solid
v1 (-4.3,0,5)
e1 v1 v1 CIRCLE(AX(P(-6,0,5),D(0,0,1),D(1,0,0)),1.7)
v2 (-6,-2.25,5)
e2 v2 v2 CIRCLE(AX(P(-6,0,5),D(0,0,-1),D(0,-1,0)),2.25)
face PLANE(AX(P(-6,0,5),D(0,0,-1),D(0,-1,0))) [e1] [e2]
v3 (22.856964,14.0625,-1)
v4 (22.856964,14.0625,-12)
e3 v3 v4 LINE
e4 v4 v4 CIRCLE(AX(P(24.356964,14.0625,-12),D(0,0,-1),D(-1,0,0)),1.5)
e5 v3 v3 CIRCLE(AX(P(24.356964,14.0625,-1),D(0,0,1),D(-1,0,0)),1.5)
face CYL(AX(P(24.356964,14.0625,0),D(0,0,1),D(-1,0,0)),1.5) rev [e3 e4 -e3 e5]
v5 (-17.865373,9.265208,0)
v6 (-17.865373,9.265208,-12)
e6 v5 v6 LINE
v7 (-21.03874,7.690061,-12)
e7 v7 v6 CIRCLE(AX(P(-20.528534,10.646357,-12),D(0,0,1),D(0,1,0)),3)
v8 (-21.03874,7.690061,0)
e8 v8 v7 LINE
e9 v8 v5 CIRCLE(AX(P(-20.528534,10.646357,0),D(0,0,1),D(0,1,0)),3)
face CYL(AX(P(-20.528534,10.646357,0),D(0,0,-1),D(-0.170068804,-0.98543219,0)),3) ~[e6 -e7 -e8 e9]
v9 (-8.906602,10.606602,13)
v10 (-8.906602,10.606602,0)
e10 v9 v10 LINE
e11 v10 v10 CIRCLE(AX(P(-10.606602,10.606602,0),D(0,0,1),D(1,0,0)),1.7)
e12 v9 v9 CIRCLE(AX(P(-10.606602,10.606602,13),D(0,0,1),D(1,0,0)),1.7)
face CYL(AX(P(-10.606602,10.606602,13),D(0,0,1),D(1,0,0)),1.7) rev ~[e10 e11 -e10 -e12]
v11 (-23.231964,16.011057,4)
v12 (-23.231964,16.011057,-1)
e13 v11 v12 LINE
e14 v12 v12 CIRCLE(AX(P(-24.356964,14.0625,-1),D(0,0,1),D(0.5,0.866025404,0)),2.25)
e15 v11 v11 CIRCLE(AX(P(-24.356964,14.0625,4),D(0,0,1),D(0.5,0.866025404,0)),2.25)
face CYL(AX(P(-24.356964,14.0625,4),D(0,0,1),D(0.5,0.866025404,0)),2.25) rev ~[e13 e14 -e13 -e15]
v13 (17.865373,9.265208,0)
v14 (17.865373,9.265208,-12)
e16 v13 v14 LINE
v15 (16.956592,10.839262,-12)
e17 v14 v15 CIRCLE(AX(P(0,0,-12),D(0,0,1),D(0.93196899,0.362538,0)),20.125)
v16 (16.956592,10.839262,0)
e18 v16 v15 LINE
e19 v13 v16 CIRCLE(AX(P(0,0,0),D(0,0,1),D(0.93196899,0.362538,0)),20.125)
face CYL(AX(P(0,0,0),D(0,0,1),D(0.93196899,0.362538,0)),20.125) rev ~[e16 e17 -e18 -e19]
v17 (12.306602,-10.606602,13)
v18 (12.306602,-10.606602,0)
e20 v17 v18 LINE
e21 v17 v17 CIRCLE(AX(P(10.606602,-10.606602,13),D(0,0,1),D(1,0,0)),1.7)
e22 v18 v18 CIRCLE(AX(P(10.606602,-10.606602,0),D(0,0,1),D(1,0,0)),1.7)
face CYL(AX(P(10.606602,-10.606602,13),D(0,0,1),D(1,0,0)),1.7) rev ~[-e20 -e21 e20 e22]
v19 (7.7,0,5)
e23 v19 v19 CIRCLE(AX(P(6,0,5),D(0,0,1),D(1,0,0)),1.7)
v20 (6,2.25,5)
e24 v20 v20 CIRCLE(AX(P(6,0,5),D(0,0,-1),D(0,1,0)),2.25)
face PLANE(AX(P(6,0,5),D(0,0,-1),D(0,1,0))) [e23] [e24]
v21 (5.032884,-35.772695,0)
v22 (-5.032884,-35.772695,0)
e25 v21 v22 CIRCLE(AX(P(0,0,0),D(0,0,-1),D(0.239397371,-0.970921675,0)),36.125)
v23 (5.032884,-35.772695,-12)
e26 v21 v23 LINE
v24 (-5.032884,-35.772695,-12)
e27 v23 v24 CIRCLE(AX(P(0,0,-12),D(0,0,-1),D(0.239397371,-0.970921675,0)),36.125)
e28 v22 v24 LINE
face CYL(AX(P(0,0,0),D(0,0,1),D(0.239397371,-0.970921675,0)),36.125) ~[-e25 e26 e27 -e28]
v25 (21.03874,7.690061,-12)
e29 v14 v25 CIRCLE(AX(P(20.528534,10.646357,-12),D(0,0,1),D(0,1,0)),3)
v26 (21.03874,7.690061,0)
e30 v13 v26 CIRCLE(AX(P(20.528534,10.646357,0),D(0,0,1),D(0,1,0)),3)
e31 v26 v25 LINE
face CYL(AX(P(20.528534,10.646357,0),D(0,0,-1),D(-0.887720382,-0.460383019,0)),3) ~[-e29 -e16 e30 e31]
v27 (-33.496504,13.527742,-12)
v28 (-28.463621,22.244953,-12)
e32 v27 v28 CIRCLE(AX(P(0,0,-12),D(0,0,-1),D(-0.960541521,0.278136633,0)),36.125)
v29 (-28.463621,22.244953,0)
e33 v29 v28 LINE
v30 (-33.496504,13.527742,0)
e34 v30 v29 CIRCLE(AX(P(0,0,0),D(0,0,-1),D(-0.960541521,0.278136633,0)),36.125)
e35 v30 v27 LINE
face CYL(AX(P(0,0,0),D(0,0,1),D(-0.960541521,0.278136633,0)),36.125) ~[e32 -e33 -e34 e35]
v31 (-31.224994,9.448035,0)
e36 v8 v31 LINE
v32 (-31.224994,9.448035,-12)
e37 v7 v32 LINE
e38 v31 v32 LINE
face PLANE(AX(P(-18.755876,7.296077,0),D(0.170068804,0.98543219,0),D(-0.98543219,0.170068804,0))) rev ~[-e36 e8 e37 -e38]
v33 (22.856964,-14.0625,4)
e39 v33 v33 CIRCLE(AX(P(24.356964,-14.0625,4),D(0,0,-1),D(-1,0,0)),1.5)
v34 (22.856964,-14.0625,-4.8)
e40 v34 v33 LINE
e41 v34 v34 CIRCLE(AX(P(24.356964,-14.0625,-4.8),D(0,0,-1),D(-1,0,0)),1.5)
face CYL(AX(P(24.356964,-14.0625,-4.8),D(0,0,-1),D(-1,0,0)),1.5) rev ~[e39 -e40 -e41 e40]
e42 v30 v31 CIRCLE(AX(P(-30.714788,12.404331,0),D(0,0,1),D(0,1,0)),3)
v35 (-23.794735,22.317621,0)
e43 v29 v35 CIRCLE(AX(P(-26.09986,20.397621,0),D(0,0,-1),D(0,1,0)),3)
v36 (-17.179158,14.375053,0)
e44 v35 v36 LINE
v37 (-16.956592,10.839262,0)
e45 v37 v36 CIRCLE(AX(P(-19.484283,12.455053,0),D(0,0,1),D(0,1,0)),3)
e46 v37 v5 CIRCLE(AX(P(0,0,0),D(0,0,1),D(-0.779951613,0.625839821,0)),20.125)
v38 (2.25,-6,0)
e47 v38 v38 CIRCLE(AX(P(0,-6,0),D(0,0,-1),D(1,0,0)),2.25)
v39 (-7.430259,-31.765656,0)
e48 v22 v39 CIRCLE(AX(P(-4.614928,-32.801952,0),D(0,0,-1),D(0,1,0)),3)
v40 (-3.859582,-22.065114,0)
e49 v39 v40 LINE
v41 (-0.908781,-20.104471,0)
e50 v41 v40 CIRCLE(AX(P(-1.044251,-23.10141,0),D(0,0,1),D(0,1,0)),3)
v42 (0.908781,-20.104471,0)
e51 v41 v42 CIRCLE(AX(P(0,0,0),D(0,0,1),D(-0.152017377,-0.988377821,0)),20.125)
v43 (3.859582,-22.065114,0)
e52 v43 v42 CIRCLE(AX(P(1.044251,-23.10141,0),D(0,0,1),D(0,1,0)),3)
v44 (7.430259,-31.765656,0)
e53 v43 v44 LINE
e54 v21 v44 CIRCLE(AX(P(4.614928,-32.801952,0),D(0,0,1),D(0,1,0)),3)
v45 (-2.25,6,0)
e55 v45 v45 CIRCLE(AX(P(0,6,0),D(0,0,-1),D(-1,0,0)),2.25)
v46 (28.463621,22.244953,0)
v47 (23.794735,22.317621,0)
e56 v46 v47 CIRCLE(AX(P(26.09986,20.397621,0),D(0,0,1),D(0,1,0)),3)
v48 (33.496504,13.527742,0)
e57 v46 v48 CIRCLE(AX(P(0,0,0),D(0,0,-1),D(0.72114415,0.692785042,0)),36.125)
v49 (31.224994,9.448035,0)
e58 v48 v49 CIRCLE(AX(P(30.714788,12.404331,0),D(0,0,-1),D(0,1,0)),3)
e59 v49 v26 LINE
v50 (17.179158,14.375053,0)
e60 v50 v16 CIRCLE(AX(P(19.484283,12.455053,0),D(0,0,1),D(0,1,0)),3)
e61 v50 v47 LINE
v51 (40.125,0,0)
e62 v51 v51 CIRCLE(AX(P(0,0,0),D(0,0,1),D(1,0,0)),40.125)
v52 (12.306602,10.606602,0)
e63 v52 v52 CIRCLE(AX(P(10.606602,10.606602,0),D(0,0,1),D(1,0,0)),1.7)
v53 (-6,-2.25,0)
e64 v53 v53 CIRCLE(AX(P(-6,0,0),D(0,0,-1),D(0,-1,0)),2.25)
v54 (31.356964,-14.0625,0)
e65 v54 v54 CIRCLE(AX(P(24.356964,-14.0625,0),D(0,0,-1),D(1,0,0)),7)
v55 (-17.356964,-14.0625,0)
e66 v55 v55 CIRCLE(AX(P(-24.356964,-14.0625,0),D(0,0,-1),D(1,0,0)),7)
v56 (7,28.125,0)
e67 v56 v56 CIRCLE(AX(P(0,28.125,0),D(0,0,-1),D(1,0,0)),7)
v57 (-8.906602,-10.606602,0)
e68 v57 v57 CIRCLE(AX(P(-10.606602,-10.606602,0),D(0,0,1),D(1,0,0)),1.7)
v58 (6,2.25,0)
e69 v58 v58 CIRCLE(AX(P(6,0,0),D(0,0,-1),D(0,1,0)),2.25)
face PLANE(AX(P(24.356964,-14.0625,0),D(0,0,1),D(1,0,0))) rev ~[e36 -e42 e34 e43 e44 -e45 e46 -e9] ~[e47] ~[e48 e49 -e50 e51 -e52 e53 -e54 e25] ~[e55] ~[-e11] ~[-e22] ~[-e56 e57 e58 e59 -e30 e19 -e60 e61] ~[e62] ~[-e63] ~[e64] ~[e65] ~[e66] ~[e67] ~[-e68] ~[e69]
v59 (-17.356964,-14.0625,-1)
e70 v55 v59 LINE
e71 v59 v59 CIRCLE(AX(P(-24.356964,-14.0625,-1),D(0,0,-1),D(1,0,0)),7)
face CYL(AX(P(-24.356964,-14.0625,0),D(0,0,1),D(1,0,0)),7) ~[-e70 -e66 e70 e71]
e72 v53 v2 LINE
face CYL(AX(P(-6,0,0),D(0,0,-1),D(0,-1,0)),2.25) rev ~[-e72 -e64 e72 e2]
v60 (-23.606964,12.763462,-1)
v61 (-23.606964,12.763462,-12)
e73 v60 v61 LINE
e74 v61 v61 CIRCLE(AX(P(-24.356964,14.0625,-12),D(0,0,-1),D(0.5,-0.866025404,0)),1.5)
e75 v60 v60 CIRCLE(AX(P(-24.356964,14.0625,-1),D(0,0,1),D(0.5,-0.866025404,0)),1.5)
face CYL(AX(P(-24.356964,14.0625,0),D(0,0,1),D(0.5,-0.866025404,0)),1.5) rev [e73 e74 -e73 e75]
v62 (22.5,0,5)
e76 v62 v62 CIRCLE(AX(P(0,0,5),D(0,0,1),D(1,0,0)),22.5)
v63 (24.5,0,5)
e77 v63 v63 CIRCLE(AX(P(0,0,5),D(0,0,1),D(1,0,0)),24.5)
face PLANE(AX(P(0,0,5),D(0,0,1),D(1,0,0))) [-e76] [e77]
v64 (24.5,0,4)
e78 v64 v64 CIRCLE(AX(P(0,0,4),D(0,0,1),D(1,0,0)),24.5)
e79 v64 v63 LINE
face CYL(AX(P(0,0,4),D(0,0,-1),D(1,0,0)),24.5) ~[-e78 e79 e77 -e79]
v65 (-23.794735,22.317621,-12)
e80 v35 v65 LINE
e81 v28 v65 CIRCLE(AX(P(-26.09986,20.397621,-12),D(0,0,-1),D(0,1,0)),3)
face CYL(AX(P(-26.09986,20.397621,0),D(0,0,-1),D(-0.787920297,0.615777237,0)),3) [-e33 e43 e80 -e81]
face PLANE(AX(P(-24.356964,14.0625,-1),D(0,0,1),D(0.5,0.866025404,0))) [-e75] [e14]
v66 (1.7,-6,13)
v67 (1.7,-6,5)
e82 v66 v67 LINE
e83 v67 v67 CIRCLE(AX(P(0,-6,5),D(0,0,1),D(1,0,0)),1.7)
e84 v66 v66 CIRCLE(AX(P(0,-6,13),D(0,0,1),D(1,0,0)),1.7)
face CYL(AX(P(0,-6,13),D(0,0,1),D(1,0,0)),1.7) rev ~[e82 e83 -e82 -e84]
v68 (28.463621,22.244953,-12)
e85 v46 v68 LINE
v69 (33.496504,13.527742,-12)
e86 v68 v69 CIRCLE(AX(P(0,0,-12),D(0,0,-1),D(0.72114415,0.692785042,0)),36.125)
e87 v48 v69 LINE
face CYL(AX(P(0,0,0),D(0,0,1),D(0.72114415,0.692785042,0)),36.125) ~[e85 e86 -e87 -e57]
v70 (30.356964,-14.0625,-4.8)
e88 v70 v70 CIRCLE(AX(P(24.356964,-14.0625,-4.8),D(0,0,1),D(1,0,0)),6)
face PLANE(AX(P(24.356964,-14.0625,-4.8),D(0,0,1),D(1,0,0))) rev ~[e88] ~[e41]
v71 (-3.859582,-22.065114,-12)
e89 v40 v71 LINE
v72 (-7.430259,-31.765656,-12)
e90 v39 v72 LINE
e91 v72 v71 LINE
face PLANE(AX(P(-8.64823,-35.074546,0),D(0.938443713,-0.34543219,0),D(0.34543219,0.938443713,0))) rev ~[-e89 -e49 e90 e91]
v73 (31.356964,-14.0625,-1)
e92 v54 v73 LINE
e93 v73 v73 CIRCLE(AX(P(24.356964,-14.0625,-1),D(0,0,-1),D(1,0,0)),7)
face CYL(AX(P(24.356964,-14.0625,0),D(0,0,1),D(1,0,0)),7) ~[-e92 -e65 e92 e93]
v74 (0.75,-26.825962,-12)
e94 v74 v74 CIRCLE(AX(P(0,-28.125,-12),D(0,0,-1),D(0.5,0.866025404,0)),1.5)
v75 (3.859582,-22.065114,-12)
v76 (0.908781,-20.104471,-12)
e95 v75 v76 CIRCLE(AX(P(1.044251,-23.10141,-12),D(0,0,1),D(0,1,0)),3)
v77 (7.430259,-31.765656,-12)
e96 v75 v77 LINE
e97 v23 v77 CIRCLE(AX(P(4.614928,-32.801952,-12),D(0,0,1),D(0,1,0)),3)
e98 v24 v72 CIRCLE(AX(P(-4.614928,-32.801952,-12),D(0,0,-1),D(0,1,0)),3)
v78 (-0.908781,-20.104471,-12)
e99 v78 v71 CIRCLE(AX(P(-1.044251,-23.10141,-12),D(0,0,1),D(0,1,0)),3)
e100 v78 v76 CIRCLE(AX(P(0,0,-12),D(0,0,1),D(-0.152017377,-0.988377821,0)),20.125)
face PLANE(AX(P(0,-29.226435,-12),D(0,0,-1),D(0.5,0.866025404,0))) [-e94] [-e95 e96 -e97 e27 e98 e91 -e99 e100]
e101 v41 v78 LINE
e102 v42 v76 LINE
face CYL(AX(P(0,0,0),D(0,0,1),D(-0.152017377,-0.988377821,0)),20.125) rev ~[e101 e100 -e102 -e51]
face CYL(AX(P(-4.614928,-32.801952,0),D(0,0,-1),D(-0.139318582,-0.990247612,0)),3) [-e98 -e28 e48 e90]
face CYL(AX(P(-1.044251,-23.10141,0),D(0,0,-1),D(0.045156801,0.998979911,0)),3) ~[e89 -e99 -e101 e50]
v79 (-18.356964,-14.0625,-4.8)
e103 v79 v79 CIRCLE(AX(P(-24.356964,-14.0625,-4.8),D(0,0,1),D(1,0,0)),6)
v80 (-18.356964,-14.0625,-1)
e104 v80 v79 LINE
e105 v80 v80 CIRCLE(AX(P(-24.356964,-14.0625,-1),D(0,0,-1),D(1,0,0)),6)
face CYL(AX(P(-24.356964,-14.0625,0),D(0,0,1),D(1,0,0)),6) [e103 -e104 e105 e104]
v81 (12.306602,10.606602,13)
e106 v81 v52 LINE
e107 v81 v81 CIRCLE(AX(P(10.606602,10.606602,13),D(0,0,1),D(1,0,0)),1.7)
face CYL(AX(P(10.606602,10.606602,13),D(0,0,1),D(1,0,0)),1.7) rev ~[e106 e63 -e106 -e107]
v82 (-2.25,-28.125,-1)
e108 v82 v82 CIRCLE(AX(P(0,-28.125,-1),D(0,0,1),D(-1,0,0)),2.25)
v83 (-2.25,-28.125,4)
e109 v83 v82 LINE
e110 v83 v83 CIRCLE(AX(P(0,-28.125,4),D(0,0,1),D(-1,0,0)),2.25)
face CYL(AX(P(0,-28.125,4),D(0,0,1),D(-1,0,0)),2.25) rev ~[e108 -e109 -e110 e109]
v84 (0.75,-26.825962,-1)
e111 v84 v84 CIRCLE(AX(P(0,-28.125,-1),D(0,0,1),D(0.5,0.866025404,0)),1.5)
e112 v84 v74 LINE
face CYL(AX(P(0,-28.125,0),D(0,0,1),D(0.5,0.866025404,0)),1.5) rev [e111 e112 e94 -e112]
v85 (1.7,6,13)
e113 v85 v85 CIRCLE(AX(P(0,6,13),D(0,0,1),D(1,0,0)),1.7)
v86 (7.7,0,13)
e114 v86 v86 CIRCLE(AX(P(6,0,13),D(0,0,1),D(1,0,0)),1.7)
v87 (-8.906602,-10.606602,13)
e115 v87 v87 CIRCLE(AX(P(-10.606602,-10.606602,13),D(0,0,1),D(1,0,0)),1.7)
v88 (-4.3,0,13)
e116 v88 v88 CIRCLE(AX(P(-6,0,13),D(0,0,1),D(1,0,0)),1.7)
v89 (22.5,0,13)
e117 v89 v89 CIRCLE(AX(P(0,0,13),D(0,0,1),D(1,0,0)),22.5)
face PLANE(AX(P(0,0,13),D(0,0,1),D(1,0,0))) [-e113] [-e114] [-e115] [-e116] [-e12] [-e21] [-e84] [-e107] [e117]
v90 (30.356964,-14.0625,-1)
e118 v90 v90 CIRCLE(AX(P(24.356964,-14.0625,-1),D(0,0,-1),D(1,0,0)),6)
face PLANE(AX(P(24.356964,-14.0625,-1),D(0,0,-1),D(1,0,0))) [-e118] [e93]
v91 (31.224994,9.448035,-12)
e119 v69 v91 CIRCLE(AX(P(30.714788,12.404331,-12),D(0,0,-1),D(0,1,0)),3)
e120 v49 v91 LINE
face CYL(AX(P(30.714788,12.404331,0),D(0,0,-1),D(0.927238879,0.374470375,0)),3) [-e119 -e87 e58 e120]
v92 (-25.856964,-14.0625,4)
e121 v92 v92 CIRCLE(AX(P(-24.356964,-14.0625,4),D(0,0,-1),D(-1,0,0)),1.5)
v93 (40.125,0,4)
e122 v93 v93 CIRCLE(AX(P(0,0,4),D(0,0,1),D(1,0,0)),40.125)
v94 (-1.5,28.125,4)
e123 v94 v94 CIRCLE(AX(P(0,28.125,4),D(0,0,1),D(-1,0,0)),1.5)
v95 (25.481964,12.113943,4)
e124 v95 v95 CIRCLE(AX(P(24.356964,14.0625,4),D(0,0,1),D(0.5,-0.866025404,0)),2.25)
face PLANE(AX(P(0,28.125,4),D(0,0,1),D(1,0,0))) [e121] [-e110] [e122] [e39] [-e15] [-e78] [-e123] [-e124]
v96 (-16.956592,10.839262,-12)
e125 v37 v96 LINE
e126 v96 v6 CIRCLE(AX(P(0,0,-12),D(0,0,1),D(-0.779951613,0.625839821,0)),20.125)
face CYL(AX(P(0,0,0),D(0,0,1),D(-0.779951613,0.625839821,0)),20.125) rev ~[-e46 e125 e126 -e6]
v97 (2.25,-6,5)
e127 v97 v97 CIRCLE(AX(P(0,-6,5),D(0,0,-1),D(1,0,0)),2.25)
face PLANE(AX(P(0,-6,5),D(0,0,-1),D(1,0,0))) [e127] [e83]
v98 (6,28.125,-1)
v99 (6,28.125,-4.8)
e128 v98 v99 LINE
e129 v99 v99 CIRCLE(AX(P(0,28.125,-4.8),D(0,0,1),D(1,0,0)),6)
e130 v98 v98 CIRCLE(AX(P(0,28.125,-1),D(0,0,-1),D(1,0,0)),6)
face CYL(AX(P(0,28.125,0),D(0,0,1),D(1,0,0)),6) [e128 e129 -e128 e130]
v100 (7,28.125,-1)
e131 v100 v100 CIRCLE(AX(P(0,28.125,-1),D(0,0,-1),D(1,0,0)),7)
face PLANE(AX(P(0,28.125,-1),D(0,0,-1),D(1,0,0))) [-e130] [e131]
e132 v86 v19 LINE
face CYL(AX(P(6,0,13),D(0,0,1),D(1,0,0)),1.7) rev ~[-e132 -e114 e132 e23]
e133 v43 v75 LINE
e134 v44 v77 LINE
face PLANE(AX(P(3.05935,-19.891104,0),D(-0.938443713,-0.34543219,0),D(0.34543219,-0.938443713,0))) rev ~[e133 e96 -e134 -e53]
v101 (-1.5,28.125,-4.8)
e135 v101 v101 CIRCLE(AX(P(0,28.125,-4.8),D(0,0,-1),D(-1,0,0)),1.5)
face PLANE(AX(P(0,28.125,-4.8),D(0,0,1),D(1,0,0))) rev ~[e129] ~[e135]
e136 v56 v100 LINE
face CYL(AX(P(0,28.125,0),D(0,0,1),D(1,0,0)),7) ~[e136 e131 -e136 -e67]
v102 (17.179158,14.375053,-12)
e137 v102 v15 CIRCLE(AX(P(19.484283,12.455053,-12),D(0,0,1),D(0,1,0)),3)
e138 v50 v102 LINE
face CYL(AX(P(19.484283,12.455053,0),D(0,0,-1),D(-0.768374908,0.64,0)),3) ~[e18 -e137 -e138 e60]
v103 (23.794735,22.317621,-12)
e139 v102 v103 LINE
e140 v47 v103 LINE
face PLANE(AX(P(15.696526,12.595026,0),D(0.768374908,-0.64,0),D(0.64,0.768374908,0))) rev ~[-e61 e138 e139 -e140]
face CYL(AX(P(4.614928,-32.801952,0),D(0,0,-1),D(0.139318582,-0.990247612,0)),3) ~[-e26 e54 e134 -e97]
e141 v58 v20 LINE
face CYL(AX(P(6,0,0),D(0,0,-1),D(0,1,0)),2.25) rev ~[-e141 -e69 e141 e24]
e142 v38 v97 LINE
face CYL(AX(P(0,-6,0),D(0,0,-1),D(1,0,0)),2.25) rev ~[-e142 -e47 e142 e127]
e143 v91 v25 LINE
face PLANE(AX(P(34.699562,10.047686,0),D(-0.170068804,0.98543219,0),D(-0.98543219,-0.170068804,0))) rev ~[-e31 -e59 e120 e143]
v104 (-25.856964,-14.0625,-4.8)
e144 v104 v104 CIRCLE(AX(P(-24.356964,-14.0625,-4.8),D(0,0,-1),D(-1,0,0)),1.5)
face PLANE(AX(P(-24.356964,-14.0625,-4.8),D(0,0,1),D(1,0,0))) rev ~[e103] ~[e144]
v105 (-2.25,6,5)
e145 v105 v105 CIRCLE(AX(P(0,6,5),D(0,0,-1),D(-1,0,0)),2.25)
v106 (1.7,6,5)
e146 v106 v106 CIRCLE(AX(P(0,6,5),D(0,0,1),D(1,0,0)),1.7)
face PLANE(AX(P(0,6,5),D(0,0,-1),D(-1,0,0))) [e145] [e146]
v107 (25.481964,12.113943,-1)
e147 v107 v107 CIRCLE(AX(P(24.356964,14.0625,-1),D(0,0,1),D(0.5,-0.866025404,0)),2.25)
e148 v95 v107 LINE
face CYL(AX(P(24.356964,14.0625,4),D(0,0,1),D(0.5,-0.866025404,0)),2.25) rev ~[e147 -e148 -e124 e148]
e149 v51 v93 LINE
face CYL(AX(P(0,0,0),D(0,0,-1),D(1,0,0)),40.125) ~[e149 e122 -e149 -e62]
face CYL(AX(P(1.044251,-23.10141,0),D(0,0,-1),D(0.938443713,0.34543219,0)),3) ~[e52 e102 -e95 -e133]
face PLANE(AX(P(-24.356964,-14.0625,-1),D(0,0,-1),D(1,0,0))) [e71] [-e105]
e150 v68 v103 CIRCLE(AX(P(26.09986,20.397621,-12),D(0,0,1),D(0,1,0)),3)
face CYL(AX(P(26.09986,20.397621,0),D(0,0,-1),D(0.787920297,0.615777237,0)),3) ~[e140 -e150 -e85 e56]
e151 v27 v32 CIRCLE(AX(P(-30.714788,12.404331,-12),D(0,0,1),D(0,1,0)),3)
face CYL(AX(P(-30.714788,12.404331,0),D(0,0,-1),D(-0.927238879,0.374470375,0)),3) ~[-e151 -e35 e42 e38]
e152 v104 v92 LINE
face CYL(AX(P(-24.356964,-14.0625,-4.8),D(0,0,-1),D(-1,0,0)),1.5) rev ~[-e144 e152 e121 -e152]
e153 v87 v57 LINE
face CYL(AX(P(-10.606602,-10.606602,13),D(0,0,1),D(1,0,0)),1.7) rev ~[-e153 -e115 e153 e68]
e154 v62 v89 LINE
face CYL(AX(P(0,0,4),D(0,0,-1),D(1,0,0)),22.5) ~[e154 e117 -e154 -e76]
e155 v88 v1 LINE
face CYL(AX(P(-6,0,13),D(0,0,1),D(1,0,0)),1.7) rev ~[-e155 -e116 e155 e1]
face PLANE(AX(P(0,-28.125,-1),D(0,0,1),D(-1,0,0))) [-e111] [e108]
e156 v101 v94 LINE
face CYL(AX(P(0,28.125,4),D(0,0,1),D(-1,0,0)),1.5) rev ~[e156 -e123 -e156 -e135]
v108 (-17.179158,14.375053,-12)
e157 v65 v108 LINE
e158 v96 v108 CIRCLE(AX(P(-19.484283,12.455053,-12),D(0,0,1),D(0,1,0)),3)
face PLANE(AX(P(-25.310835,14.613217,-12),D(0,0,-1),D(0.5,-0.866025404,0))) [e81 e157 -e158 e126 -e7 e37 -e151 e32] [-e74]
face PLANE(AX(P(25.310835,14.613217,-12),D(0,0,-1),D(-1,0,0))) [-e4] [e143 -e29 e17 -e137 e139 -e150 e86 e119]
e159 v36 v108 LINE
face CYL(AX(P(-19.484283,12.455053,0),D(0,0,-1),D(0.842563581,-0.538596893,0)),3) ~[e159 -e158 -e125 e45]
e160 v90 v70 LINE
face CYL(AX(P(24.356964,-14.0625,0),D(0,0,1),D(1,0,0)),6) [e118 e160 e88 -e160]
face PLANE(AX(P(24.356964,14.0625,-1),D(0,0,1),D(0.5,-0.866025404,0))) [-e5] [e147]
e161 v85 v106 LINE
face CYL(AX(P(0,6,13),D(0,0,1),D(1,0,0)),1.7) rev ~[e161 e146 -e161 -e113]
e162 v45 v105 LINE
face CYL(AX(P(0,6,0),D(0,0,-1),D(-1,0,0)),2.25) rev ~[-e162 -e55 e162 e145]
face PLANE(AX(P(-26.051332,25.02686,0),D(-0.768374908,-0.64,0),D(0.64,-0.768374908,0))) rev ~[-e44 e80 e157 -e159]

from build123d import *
from build123d.topology import SkipClean

# Parameters (mm, degrees)
SKETCH1_R                = 40.125
SKETCH1_R_2              = 6
BOSS_EXTRUDE1_DEPTH      = 4
SKETCH1_3_R              = 6
BOSS_EXTRUDE2_DEPTH      = 4.8
SKETCH2_R                = 7
SKETCH2_R_2              = 6
BOSS_EXTRUDE3_DEPTH      = 1
SKETCH3_R                = 22.5
BOSS_EXTRUDE4_DEPTH      = 9
SKETCH3_3_R              = 24.5
SKETCH3_3_R_2            = 22.5
BOSS_EXTRUDE5_DEPTH      = 1
CUT_EXTRUDE1_REACH       = 61.472
SKETCH4_R                = 1.7
SKETCH5_R                = 1.5
CUT_EXTRUDE2_DEPTH       = 60.471600365
SKETCH7_R                = 2.25
CUT_EXTRUDE4_DEPTH       = 5
CIRPATTERN2_COUNT        = 4
SKETCH8_R                = 1.5
BOSS_EXTRUDE6_DEPTH      = 12
FILLET1_R                = 3
SKETCH8_2_R              = 1.5
CUT_EXTRUDE5_DEPTH       = 59.215386712
CIRPATTERN3_COUNT        = 3
FILLET1_OF_CIRPATTERN3_R = 3
SKETCH6_R                = 2.25
CUT_EXTRUDE3_DEPTH       = 5
CIRPATTERN1_COUNT        = 6
SKETCH6_2_R              = 2.25
SKETCH6_2_R_2            = 1.5
BOSS_EXTRUDE7_DEPTH      = 5


with BuildPart() as part:
    # Sketch1 → Boss-Extrude1 (new body)
    # profile 1 of 4: a face of its own
    with BuildSketch(Plane.XY):
        Circle(SKETCH1_R)
        with Locations((0, 28.125)):
            Circle(SKETCH1_R_2, mode=Mode.SUBTRACT)
        with Locations((24.356964481, -14.0625)):
            Circle(SKETCH1_R_2, mode=Mode.SUBTRACT)
        with Locations((-24.356964481, -14.0625)):
            Circle(SKETCH1_R_2, mode=Mode.SUBTRACT)
    # profile 2 of 4: a face of its own
    with BuildSketch(Plane.XY):
        with Locations((0, 28.125)):
            Circle(SKETCH1_R_2)
    # profile 3 of 4: a face of its own
    with BuildSketch(Plane.XY):
        with Locations((-24.356964481, -14.0625)):
            Circle(SKETCH1_R_2)
    # profile 4 of 4: a face of its own
    with BuildSketch(Plane.XY):
        with Locations((24.356964481, -14.0625)):
            Circle(SKETCH1_R_2)
    extrude(amount=BOSS_EXTRUDE1_DEPTH)

    # Sketch1<3> → Boss-Extrude2 (add)
    with BuildSketch(Plane.XY):
        with Locations((0, 28.125)):
            Circle(SKETCH1_3_R)
        with Locations((24.356964481, -14.0625)):
            Circle(SKETCH1_3_R)
        with Locations((-24.356964481, -14.0625)):
            Circle(SKETCH1_3_R)
    extrude(amount=-BOSS_EXTRUDE2_DEPTH)

    # Sketch2 → Boss-Extrude3 (add)
    # profile 1 of 3: a face of its own
    with BuildSketch(Plane(origin=(0, 0, 0), x_dir=(-1, 0, 0), z_dir=(0, 0, -1))):
        with Locations(Location((0, 28.125, 0), (0, 0, 180))):
            Circle(SKETCH2_R)
        with Locations(Location((0, 28.125, 0), (0, 0, 180))):
            Circle(SKETCH2_R_2, mode=Mode.SUBTRACT)
    # profile 2 of 3: a face of its own
    with BuildSketch(Plane(origin=(0, 0, 0), x_dir=(-1, 0, 0), z_dir=(0, 0, -1))):
        with Locations(Location((-24.356964481, -14.0625, 0), (0, 0, 180))):
            Circle(SKETCH2_R)
        with Locations(Location((-24.356964481, -14.0625, 0), (0, 0, 180))):
            Circle(SKETCH2_R_2, mode=Mode.SUBTRACT)
    # profile 3 of 3: a face of its own
    with BuildSketch(Plane(origin=(0, 0, 0), x_dir=(-1, 0, 0), z_dir=(0, 0, -1))):
        with Locations(Location((24.356964481, -14.0625, 0), (0, 0, 180))):
            Circle(SKETCH2_R)
        with Locations(Location((24.356964481, -14.0625, 0), (0, 0, 180))):
            Circle(SKETCH2_R_2, mode=Mode.SUBTRACT)
    extrude(amount=BOSS_EXTRUDE3_DEPTH)

    # Sketch3 → Boss-Extrude4 (add)
    with BuildSketch(Plane.XY.offset(4)):
        Circle(SKETCH3_R)
    extrude(amount=BOSS_EXTRUDE4_DEPTH)

    # Sketch3<3> → Boss-Extrude5 (add)
    with BuildSketch(Plane.XY.offset(4)):
        Circle(SKETCH3_3_R)
        Circle(SKETCH3_3_R_2, mode=Mode.SUBTRACT)
    extrude(amount=BOSS_EXTRUDE5_DEPTH)

    # Sketch4 → Cut-Extrude1 (cut, up to next)
    with BuildSketch(Plane.XY.offset(13), mode=Mode.PRIVATE) as cut_extrude1_sk1:
        with Locations((0, 6)):
            Circle(SKETCH4_R)
    cut_extrude1_tool1 = extrude(cut_extrude1_sk1.sketch, amount=-CUT_EXTRUDE1_REACH, mode=Mode.PRIVATE) & part.part
    # Sketch4 → Cut-Extrude1 (cut, up to next)
    with BuildSketch(Plane.XY.offset(13), mode=Mode.PRIVATE) as cut_extrude1_sk2:
        with Locations((6, 0)):
            Circle(SKETCH4_R)
    cut_extrude1_tool2 = extrude(cut_extrude1_sk2.sketch, amount=-CUT_EXTRUDE1_REACH, mode=Mode.PRIVATE) & part.part
    # Sketch4 → Cut-Extrude1 (cut, up to next)
    with BuildSketch(Plane.XY.offset(13), mode=Mode.PRIVATE) as cut_extrude1_sk3:
        with Locations((0, -6)):
            Circle(SKETCH4_R)
    cut_extrude1_tool3 = extrude(cut_extrude1_sk3.sketch, amount=-CUT_EXTRUDE1_REACH, mode=Mode.PRIVATE) & part.part
    # Sketch4 → Cut-Extrude1 (cut, up to next)
    with BuildSketch(Plane.XY.offset(13), mode=Mode.PRIVATE) as cut_extrude1_sk4:
        with Locations((-6, 0)):
            Circle(SKETCH4_R)
    cut_extrude1_tool4 = extrude(cut_extrude1_sk4.sketch, amount=-CUT_EXTRUDE1_REACH, mode=Mode.PRIVATE) & part.part
    # Sketch4 → Cut-Extrude1 (cut, up to next)
    with BuildSketch(Plane.XY.offset(13), mode=Mode.PRIVATE) as cut_extrude1_sk5:
        with Locations((-10.606601718, 10.606601718)):
            Circle(SKETCH4_R)
    cut_extrude1_tool5 = extrude(cut_extrude1_sk5.sketch, amount=-CUT_EXTRUDE1_REACH, mode=Mode.PRIVATE) & part.part
    # Sketch4 → Cut-Extrude1 (cut, up to next)
    with BuildSketch(Plane.XY.offset(13), mode=Mode.PRIVATE) as cut_extrude1_sk6:
        with Locations((10.606601718, 10.606601718)):
            Circle(SKETCH4_R)
    cut_extrude1_tool6 = extrude(cut_extrude1_sk6.sketch, amount=-CUT_EXTRUDE1_REACH, mode=Mode.PRIVATE) & part.part
    # Sketch4 → Cut-Extrude1 (cut, up to next)
    with BuildSketch(Plane.XY.offset(13), mode=Mode.PRIVATE) as cut_extrude1_sk7:
        with Locations((10.606601718, -10.606601718)):
            Circle(SKETCH4_R)
    cut_extrude1_tool7 = extrude(cut_extrude1_sk7.sketch, amount=-CUT_EXTRUDE1_REACH, mode=Mode.PRIVATE) & part.part
    # Sketch4 → Cut-Extrude1 (cut, up to next)
    with BuildSketch(Plane.XY.offset(13), mode=Mode.PRIVATE) as cut_extrude1_sk8:
        with Locations((-10.606601718, -10.606601718)):
            Circle(SKETCH4_R)
    cut_extrude1_tool8 = extrude(cut_extrude1_sk8.sketch, amount=-CUT_EXTRUDE1_REACH, mode=Mode.PRIVATE) & part.part
    add(cut_extrude1_tool1.solids().sort_by_distance((0, 6, 13))[0], mode=Mode.SUBTRACT)
    add(cut_extrude1_tool2.solids().sort_by_distance((6, 0, 13))[0], mode=Mode.SUBTRACT)
    add(cut_extrude1_tool3.solids().sort_by_distance((0, -6, 13))[0], mode=Mode.SUBTRACT)
    add(cut_extrude1_tool4.solids().sort_by_distance((-6, 0, 13))[0], mode=Mode.SUBTRACT)
    add(cut_extrude1_tool5.solids().sort_by_distance((-10.606602, 10.606602, 13))[0], mode=Mode.SUBTRACT)
    add(cut_extrude1_tool6.solids().sort_by_distance((10.606602, 10.606602, 13))[0], mode=Mode.SUBTRACT)
    add(cut_extrude1_tool7.solids().sort_by_distance((10.606602, -10.606602, 13))[0], mode=Mode.SUBTRACT)
    add(cut_extrude1_tool8.solids().sort_by_distance((-10.606602, -10.606602, 13))[0], mode=Mode.SUBTRACT)

    # Sketch5 → Cut-Extrude2 (cut, through all)
    with BuildSketch(Plane(origin=(0, 0, -4.8), x_dir=(-1, 0, 0), z_dir=(0, 0, -1))):
        with Locations((0, 28.125)):
            Circle(SKETCH5_R)
        with Locations((24.356964481, -14.0625)):
            Circle(SKETCH5_R)
        with Locations((-24.356964481, -14.0625)):
            Circle(SKETCH5_R)
    extrude(amount=-CUT_EXTRUDE2_DEPTH, mode=Mode.SUBTRACT)

    # Sketch7 → Cut-Extrude4 (cut)
    with BuildSketch(Plane(origin=(0, 0, 0), x_dir=(-1, 0, 0), z_dir=(0, 0, -1))):
        with Locations((0, 6)):
            Circle(SKETCH7_R)
    cut_extrude4 = extrude(amount=-CUT_EXTRUDE4_DEPTH, mode=Mode.SUBTRACT)

    # CirPattern2: Cut-Extrude4 ×4 about axis
    cirpattern2_axis = Axis((0, 0, 0), (0, 0, 1))
    for i in range(1, CIRPATTERN2_COUNT):
        add(cut_extrude4.rotate(cirpattern2_axis, i * 360 / CIRPATTERN2_COUNT), mode=Mode.SUBTRACT)

    # Sketch8 → Boss-Extrude6 (add)
    with BuildSketch(Plane(origin=(0, 0, 0), x_dir=(-1, 0, 0), z_dir=(0, 0, -1))):
        with BuildLine():
            Line((-34.699562443, 10.047685865), (-18.755875925, 7.296077254))
            ThreePointArc((-18.755875925, 7.296077254), (-17.428761251, 10.0625), (-15.696526212, 12.595026394))
            Line((-15.696526212, 12.595026394), (-26.05133243, 25.026859644))
            ThreePointArc((-26.05133243, 25.026859644), (-31.285167712, 18.0625), (-34.699562443, 10.047685865))
        make_face()
        with Locations((-24.356964481, 14.0625)):
            Circle(SKETCH8_R, mode=Mode.SUBTRACT)
    boss_extrude6 = extrude(amount=BOSS_EXTRUDE6_DEPTH)

    # Fillet1
    fillet1_edges = [part.edges().sort_by_distance(p)[0] for p in [
        (26.05133243, 25.026859644, -6),
        (34.699562443, 10.047685865, -6),
        (18.755875925, 7.296077254, -6),
        (15.696526212, 12.595026394, -6),
    ]]
    fillet(fillet1_edges, radius=FILLET1_R)

    # Sketch8<2> → Cut-Extrude5 (cut, through all)
    with SkipClean():  # the faces are left unmerged after this step: merging them gives an invalid solid
        with BuildSketch(Plane(origin=(0, 0, 0), x_dir=(-1, 0, 0), z_dir=(0, 0, -1))):
            with Locations(Location((-24.356964481, 14.0625, 0), (0, 0, 180))):
                Circle(SKETCH8_2_R)
        cut_extrude5 = extrude(amount=-CUT_EXTRUDE5_DEPTH, mode=Mode.SUBTRACT)

    # CirPattern3: Boss-Extrude6, Cut-Extrude5 ×3 about axis
    cirpattern3_axis = Axis((0, 0, 0), (0, 0, 1))
    add([boss_extrude6.rotate(cirpattern3_axis, i * 360 / CIRPATTERN3_COUNT) for i in range(1, CIRPATTERN3_COUNT)])
    add([cut_extrude5.rotate(cirpattern3_axis, i * 360 / CIRPATTERN3_COUNT) for i in range(1, CIRPATTERN3_COUNT)], mode=Mode.SUBTRACT)

    # Fillet1 of CirPattern3
    fillet1_of_cirpattern3_edges = [part.edges().sort_by_distance(p)[0] for p in [
        (-34.699562443, 10.047685865, -6),
        (-26.05133243, 25.026859644, -6),
        (-15.696526212, 12.595026394, -6),
        (-18.755875925, 7.296077254, -6),
        (8.648230013, -35.074545509, -6),
        (-8.648230013, -35.074545509, -6),
        (-3.059349712, -19.891103648, -6),
        (3.059349712, -19.891103648, -6),
    ]]
    fillet(fillet1_of_cirpattern3_edges, radius=FILLET1_OF_CIRPATTERN3_R)

    # Sketch6 → Cut-Extrude3 (cut)
    with BuildSketch(Plane.XY.offset(4)):
        with Locations((0, 28.125)):
            Circle(SKETCH6_R)
    cut_extrude3 = extrude(amount=-CUT_EXTRUDE3_DEPTH, mode=Mode.SUBTRACT)

    # CirPattern1: Cut-Extrude3 ×6 about axis, 2 skipped
    cirpattern1_axis = Axis((0, 0, 0), (0, 0, 1))
    add([cut_extrude3.rotate(cirpattern1_axis, i * 360 / CIRPATTERN1_COUNT) for i in range(1, CIRPATTERN1_COUNT) if i not in (2, 4)], mode=Mode.SUBTRACT)

    # Sketch6<2> → Boss-Extrude7 (add)
    with BuildSketch(Plane.XY.offset(4)):
        with Locations((0, 28.125)):
            Circle(SKETCH6_2_R)
        with Locations(Location((0, 28.125, 0), (0, 0, 180))):
            Circle(SKETCH6_2_R_2, mode=Mode.SUBTRACT)
    extrude(amount=-BOSS_EXTRUDE7_DEPTH)


solid = part.part
